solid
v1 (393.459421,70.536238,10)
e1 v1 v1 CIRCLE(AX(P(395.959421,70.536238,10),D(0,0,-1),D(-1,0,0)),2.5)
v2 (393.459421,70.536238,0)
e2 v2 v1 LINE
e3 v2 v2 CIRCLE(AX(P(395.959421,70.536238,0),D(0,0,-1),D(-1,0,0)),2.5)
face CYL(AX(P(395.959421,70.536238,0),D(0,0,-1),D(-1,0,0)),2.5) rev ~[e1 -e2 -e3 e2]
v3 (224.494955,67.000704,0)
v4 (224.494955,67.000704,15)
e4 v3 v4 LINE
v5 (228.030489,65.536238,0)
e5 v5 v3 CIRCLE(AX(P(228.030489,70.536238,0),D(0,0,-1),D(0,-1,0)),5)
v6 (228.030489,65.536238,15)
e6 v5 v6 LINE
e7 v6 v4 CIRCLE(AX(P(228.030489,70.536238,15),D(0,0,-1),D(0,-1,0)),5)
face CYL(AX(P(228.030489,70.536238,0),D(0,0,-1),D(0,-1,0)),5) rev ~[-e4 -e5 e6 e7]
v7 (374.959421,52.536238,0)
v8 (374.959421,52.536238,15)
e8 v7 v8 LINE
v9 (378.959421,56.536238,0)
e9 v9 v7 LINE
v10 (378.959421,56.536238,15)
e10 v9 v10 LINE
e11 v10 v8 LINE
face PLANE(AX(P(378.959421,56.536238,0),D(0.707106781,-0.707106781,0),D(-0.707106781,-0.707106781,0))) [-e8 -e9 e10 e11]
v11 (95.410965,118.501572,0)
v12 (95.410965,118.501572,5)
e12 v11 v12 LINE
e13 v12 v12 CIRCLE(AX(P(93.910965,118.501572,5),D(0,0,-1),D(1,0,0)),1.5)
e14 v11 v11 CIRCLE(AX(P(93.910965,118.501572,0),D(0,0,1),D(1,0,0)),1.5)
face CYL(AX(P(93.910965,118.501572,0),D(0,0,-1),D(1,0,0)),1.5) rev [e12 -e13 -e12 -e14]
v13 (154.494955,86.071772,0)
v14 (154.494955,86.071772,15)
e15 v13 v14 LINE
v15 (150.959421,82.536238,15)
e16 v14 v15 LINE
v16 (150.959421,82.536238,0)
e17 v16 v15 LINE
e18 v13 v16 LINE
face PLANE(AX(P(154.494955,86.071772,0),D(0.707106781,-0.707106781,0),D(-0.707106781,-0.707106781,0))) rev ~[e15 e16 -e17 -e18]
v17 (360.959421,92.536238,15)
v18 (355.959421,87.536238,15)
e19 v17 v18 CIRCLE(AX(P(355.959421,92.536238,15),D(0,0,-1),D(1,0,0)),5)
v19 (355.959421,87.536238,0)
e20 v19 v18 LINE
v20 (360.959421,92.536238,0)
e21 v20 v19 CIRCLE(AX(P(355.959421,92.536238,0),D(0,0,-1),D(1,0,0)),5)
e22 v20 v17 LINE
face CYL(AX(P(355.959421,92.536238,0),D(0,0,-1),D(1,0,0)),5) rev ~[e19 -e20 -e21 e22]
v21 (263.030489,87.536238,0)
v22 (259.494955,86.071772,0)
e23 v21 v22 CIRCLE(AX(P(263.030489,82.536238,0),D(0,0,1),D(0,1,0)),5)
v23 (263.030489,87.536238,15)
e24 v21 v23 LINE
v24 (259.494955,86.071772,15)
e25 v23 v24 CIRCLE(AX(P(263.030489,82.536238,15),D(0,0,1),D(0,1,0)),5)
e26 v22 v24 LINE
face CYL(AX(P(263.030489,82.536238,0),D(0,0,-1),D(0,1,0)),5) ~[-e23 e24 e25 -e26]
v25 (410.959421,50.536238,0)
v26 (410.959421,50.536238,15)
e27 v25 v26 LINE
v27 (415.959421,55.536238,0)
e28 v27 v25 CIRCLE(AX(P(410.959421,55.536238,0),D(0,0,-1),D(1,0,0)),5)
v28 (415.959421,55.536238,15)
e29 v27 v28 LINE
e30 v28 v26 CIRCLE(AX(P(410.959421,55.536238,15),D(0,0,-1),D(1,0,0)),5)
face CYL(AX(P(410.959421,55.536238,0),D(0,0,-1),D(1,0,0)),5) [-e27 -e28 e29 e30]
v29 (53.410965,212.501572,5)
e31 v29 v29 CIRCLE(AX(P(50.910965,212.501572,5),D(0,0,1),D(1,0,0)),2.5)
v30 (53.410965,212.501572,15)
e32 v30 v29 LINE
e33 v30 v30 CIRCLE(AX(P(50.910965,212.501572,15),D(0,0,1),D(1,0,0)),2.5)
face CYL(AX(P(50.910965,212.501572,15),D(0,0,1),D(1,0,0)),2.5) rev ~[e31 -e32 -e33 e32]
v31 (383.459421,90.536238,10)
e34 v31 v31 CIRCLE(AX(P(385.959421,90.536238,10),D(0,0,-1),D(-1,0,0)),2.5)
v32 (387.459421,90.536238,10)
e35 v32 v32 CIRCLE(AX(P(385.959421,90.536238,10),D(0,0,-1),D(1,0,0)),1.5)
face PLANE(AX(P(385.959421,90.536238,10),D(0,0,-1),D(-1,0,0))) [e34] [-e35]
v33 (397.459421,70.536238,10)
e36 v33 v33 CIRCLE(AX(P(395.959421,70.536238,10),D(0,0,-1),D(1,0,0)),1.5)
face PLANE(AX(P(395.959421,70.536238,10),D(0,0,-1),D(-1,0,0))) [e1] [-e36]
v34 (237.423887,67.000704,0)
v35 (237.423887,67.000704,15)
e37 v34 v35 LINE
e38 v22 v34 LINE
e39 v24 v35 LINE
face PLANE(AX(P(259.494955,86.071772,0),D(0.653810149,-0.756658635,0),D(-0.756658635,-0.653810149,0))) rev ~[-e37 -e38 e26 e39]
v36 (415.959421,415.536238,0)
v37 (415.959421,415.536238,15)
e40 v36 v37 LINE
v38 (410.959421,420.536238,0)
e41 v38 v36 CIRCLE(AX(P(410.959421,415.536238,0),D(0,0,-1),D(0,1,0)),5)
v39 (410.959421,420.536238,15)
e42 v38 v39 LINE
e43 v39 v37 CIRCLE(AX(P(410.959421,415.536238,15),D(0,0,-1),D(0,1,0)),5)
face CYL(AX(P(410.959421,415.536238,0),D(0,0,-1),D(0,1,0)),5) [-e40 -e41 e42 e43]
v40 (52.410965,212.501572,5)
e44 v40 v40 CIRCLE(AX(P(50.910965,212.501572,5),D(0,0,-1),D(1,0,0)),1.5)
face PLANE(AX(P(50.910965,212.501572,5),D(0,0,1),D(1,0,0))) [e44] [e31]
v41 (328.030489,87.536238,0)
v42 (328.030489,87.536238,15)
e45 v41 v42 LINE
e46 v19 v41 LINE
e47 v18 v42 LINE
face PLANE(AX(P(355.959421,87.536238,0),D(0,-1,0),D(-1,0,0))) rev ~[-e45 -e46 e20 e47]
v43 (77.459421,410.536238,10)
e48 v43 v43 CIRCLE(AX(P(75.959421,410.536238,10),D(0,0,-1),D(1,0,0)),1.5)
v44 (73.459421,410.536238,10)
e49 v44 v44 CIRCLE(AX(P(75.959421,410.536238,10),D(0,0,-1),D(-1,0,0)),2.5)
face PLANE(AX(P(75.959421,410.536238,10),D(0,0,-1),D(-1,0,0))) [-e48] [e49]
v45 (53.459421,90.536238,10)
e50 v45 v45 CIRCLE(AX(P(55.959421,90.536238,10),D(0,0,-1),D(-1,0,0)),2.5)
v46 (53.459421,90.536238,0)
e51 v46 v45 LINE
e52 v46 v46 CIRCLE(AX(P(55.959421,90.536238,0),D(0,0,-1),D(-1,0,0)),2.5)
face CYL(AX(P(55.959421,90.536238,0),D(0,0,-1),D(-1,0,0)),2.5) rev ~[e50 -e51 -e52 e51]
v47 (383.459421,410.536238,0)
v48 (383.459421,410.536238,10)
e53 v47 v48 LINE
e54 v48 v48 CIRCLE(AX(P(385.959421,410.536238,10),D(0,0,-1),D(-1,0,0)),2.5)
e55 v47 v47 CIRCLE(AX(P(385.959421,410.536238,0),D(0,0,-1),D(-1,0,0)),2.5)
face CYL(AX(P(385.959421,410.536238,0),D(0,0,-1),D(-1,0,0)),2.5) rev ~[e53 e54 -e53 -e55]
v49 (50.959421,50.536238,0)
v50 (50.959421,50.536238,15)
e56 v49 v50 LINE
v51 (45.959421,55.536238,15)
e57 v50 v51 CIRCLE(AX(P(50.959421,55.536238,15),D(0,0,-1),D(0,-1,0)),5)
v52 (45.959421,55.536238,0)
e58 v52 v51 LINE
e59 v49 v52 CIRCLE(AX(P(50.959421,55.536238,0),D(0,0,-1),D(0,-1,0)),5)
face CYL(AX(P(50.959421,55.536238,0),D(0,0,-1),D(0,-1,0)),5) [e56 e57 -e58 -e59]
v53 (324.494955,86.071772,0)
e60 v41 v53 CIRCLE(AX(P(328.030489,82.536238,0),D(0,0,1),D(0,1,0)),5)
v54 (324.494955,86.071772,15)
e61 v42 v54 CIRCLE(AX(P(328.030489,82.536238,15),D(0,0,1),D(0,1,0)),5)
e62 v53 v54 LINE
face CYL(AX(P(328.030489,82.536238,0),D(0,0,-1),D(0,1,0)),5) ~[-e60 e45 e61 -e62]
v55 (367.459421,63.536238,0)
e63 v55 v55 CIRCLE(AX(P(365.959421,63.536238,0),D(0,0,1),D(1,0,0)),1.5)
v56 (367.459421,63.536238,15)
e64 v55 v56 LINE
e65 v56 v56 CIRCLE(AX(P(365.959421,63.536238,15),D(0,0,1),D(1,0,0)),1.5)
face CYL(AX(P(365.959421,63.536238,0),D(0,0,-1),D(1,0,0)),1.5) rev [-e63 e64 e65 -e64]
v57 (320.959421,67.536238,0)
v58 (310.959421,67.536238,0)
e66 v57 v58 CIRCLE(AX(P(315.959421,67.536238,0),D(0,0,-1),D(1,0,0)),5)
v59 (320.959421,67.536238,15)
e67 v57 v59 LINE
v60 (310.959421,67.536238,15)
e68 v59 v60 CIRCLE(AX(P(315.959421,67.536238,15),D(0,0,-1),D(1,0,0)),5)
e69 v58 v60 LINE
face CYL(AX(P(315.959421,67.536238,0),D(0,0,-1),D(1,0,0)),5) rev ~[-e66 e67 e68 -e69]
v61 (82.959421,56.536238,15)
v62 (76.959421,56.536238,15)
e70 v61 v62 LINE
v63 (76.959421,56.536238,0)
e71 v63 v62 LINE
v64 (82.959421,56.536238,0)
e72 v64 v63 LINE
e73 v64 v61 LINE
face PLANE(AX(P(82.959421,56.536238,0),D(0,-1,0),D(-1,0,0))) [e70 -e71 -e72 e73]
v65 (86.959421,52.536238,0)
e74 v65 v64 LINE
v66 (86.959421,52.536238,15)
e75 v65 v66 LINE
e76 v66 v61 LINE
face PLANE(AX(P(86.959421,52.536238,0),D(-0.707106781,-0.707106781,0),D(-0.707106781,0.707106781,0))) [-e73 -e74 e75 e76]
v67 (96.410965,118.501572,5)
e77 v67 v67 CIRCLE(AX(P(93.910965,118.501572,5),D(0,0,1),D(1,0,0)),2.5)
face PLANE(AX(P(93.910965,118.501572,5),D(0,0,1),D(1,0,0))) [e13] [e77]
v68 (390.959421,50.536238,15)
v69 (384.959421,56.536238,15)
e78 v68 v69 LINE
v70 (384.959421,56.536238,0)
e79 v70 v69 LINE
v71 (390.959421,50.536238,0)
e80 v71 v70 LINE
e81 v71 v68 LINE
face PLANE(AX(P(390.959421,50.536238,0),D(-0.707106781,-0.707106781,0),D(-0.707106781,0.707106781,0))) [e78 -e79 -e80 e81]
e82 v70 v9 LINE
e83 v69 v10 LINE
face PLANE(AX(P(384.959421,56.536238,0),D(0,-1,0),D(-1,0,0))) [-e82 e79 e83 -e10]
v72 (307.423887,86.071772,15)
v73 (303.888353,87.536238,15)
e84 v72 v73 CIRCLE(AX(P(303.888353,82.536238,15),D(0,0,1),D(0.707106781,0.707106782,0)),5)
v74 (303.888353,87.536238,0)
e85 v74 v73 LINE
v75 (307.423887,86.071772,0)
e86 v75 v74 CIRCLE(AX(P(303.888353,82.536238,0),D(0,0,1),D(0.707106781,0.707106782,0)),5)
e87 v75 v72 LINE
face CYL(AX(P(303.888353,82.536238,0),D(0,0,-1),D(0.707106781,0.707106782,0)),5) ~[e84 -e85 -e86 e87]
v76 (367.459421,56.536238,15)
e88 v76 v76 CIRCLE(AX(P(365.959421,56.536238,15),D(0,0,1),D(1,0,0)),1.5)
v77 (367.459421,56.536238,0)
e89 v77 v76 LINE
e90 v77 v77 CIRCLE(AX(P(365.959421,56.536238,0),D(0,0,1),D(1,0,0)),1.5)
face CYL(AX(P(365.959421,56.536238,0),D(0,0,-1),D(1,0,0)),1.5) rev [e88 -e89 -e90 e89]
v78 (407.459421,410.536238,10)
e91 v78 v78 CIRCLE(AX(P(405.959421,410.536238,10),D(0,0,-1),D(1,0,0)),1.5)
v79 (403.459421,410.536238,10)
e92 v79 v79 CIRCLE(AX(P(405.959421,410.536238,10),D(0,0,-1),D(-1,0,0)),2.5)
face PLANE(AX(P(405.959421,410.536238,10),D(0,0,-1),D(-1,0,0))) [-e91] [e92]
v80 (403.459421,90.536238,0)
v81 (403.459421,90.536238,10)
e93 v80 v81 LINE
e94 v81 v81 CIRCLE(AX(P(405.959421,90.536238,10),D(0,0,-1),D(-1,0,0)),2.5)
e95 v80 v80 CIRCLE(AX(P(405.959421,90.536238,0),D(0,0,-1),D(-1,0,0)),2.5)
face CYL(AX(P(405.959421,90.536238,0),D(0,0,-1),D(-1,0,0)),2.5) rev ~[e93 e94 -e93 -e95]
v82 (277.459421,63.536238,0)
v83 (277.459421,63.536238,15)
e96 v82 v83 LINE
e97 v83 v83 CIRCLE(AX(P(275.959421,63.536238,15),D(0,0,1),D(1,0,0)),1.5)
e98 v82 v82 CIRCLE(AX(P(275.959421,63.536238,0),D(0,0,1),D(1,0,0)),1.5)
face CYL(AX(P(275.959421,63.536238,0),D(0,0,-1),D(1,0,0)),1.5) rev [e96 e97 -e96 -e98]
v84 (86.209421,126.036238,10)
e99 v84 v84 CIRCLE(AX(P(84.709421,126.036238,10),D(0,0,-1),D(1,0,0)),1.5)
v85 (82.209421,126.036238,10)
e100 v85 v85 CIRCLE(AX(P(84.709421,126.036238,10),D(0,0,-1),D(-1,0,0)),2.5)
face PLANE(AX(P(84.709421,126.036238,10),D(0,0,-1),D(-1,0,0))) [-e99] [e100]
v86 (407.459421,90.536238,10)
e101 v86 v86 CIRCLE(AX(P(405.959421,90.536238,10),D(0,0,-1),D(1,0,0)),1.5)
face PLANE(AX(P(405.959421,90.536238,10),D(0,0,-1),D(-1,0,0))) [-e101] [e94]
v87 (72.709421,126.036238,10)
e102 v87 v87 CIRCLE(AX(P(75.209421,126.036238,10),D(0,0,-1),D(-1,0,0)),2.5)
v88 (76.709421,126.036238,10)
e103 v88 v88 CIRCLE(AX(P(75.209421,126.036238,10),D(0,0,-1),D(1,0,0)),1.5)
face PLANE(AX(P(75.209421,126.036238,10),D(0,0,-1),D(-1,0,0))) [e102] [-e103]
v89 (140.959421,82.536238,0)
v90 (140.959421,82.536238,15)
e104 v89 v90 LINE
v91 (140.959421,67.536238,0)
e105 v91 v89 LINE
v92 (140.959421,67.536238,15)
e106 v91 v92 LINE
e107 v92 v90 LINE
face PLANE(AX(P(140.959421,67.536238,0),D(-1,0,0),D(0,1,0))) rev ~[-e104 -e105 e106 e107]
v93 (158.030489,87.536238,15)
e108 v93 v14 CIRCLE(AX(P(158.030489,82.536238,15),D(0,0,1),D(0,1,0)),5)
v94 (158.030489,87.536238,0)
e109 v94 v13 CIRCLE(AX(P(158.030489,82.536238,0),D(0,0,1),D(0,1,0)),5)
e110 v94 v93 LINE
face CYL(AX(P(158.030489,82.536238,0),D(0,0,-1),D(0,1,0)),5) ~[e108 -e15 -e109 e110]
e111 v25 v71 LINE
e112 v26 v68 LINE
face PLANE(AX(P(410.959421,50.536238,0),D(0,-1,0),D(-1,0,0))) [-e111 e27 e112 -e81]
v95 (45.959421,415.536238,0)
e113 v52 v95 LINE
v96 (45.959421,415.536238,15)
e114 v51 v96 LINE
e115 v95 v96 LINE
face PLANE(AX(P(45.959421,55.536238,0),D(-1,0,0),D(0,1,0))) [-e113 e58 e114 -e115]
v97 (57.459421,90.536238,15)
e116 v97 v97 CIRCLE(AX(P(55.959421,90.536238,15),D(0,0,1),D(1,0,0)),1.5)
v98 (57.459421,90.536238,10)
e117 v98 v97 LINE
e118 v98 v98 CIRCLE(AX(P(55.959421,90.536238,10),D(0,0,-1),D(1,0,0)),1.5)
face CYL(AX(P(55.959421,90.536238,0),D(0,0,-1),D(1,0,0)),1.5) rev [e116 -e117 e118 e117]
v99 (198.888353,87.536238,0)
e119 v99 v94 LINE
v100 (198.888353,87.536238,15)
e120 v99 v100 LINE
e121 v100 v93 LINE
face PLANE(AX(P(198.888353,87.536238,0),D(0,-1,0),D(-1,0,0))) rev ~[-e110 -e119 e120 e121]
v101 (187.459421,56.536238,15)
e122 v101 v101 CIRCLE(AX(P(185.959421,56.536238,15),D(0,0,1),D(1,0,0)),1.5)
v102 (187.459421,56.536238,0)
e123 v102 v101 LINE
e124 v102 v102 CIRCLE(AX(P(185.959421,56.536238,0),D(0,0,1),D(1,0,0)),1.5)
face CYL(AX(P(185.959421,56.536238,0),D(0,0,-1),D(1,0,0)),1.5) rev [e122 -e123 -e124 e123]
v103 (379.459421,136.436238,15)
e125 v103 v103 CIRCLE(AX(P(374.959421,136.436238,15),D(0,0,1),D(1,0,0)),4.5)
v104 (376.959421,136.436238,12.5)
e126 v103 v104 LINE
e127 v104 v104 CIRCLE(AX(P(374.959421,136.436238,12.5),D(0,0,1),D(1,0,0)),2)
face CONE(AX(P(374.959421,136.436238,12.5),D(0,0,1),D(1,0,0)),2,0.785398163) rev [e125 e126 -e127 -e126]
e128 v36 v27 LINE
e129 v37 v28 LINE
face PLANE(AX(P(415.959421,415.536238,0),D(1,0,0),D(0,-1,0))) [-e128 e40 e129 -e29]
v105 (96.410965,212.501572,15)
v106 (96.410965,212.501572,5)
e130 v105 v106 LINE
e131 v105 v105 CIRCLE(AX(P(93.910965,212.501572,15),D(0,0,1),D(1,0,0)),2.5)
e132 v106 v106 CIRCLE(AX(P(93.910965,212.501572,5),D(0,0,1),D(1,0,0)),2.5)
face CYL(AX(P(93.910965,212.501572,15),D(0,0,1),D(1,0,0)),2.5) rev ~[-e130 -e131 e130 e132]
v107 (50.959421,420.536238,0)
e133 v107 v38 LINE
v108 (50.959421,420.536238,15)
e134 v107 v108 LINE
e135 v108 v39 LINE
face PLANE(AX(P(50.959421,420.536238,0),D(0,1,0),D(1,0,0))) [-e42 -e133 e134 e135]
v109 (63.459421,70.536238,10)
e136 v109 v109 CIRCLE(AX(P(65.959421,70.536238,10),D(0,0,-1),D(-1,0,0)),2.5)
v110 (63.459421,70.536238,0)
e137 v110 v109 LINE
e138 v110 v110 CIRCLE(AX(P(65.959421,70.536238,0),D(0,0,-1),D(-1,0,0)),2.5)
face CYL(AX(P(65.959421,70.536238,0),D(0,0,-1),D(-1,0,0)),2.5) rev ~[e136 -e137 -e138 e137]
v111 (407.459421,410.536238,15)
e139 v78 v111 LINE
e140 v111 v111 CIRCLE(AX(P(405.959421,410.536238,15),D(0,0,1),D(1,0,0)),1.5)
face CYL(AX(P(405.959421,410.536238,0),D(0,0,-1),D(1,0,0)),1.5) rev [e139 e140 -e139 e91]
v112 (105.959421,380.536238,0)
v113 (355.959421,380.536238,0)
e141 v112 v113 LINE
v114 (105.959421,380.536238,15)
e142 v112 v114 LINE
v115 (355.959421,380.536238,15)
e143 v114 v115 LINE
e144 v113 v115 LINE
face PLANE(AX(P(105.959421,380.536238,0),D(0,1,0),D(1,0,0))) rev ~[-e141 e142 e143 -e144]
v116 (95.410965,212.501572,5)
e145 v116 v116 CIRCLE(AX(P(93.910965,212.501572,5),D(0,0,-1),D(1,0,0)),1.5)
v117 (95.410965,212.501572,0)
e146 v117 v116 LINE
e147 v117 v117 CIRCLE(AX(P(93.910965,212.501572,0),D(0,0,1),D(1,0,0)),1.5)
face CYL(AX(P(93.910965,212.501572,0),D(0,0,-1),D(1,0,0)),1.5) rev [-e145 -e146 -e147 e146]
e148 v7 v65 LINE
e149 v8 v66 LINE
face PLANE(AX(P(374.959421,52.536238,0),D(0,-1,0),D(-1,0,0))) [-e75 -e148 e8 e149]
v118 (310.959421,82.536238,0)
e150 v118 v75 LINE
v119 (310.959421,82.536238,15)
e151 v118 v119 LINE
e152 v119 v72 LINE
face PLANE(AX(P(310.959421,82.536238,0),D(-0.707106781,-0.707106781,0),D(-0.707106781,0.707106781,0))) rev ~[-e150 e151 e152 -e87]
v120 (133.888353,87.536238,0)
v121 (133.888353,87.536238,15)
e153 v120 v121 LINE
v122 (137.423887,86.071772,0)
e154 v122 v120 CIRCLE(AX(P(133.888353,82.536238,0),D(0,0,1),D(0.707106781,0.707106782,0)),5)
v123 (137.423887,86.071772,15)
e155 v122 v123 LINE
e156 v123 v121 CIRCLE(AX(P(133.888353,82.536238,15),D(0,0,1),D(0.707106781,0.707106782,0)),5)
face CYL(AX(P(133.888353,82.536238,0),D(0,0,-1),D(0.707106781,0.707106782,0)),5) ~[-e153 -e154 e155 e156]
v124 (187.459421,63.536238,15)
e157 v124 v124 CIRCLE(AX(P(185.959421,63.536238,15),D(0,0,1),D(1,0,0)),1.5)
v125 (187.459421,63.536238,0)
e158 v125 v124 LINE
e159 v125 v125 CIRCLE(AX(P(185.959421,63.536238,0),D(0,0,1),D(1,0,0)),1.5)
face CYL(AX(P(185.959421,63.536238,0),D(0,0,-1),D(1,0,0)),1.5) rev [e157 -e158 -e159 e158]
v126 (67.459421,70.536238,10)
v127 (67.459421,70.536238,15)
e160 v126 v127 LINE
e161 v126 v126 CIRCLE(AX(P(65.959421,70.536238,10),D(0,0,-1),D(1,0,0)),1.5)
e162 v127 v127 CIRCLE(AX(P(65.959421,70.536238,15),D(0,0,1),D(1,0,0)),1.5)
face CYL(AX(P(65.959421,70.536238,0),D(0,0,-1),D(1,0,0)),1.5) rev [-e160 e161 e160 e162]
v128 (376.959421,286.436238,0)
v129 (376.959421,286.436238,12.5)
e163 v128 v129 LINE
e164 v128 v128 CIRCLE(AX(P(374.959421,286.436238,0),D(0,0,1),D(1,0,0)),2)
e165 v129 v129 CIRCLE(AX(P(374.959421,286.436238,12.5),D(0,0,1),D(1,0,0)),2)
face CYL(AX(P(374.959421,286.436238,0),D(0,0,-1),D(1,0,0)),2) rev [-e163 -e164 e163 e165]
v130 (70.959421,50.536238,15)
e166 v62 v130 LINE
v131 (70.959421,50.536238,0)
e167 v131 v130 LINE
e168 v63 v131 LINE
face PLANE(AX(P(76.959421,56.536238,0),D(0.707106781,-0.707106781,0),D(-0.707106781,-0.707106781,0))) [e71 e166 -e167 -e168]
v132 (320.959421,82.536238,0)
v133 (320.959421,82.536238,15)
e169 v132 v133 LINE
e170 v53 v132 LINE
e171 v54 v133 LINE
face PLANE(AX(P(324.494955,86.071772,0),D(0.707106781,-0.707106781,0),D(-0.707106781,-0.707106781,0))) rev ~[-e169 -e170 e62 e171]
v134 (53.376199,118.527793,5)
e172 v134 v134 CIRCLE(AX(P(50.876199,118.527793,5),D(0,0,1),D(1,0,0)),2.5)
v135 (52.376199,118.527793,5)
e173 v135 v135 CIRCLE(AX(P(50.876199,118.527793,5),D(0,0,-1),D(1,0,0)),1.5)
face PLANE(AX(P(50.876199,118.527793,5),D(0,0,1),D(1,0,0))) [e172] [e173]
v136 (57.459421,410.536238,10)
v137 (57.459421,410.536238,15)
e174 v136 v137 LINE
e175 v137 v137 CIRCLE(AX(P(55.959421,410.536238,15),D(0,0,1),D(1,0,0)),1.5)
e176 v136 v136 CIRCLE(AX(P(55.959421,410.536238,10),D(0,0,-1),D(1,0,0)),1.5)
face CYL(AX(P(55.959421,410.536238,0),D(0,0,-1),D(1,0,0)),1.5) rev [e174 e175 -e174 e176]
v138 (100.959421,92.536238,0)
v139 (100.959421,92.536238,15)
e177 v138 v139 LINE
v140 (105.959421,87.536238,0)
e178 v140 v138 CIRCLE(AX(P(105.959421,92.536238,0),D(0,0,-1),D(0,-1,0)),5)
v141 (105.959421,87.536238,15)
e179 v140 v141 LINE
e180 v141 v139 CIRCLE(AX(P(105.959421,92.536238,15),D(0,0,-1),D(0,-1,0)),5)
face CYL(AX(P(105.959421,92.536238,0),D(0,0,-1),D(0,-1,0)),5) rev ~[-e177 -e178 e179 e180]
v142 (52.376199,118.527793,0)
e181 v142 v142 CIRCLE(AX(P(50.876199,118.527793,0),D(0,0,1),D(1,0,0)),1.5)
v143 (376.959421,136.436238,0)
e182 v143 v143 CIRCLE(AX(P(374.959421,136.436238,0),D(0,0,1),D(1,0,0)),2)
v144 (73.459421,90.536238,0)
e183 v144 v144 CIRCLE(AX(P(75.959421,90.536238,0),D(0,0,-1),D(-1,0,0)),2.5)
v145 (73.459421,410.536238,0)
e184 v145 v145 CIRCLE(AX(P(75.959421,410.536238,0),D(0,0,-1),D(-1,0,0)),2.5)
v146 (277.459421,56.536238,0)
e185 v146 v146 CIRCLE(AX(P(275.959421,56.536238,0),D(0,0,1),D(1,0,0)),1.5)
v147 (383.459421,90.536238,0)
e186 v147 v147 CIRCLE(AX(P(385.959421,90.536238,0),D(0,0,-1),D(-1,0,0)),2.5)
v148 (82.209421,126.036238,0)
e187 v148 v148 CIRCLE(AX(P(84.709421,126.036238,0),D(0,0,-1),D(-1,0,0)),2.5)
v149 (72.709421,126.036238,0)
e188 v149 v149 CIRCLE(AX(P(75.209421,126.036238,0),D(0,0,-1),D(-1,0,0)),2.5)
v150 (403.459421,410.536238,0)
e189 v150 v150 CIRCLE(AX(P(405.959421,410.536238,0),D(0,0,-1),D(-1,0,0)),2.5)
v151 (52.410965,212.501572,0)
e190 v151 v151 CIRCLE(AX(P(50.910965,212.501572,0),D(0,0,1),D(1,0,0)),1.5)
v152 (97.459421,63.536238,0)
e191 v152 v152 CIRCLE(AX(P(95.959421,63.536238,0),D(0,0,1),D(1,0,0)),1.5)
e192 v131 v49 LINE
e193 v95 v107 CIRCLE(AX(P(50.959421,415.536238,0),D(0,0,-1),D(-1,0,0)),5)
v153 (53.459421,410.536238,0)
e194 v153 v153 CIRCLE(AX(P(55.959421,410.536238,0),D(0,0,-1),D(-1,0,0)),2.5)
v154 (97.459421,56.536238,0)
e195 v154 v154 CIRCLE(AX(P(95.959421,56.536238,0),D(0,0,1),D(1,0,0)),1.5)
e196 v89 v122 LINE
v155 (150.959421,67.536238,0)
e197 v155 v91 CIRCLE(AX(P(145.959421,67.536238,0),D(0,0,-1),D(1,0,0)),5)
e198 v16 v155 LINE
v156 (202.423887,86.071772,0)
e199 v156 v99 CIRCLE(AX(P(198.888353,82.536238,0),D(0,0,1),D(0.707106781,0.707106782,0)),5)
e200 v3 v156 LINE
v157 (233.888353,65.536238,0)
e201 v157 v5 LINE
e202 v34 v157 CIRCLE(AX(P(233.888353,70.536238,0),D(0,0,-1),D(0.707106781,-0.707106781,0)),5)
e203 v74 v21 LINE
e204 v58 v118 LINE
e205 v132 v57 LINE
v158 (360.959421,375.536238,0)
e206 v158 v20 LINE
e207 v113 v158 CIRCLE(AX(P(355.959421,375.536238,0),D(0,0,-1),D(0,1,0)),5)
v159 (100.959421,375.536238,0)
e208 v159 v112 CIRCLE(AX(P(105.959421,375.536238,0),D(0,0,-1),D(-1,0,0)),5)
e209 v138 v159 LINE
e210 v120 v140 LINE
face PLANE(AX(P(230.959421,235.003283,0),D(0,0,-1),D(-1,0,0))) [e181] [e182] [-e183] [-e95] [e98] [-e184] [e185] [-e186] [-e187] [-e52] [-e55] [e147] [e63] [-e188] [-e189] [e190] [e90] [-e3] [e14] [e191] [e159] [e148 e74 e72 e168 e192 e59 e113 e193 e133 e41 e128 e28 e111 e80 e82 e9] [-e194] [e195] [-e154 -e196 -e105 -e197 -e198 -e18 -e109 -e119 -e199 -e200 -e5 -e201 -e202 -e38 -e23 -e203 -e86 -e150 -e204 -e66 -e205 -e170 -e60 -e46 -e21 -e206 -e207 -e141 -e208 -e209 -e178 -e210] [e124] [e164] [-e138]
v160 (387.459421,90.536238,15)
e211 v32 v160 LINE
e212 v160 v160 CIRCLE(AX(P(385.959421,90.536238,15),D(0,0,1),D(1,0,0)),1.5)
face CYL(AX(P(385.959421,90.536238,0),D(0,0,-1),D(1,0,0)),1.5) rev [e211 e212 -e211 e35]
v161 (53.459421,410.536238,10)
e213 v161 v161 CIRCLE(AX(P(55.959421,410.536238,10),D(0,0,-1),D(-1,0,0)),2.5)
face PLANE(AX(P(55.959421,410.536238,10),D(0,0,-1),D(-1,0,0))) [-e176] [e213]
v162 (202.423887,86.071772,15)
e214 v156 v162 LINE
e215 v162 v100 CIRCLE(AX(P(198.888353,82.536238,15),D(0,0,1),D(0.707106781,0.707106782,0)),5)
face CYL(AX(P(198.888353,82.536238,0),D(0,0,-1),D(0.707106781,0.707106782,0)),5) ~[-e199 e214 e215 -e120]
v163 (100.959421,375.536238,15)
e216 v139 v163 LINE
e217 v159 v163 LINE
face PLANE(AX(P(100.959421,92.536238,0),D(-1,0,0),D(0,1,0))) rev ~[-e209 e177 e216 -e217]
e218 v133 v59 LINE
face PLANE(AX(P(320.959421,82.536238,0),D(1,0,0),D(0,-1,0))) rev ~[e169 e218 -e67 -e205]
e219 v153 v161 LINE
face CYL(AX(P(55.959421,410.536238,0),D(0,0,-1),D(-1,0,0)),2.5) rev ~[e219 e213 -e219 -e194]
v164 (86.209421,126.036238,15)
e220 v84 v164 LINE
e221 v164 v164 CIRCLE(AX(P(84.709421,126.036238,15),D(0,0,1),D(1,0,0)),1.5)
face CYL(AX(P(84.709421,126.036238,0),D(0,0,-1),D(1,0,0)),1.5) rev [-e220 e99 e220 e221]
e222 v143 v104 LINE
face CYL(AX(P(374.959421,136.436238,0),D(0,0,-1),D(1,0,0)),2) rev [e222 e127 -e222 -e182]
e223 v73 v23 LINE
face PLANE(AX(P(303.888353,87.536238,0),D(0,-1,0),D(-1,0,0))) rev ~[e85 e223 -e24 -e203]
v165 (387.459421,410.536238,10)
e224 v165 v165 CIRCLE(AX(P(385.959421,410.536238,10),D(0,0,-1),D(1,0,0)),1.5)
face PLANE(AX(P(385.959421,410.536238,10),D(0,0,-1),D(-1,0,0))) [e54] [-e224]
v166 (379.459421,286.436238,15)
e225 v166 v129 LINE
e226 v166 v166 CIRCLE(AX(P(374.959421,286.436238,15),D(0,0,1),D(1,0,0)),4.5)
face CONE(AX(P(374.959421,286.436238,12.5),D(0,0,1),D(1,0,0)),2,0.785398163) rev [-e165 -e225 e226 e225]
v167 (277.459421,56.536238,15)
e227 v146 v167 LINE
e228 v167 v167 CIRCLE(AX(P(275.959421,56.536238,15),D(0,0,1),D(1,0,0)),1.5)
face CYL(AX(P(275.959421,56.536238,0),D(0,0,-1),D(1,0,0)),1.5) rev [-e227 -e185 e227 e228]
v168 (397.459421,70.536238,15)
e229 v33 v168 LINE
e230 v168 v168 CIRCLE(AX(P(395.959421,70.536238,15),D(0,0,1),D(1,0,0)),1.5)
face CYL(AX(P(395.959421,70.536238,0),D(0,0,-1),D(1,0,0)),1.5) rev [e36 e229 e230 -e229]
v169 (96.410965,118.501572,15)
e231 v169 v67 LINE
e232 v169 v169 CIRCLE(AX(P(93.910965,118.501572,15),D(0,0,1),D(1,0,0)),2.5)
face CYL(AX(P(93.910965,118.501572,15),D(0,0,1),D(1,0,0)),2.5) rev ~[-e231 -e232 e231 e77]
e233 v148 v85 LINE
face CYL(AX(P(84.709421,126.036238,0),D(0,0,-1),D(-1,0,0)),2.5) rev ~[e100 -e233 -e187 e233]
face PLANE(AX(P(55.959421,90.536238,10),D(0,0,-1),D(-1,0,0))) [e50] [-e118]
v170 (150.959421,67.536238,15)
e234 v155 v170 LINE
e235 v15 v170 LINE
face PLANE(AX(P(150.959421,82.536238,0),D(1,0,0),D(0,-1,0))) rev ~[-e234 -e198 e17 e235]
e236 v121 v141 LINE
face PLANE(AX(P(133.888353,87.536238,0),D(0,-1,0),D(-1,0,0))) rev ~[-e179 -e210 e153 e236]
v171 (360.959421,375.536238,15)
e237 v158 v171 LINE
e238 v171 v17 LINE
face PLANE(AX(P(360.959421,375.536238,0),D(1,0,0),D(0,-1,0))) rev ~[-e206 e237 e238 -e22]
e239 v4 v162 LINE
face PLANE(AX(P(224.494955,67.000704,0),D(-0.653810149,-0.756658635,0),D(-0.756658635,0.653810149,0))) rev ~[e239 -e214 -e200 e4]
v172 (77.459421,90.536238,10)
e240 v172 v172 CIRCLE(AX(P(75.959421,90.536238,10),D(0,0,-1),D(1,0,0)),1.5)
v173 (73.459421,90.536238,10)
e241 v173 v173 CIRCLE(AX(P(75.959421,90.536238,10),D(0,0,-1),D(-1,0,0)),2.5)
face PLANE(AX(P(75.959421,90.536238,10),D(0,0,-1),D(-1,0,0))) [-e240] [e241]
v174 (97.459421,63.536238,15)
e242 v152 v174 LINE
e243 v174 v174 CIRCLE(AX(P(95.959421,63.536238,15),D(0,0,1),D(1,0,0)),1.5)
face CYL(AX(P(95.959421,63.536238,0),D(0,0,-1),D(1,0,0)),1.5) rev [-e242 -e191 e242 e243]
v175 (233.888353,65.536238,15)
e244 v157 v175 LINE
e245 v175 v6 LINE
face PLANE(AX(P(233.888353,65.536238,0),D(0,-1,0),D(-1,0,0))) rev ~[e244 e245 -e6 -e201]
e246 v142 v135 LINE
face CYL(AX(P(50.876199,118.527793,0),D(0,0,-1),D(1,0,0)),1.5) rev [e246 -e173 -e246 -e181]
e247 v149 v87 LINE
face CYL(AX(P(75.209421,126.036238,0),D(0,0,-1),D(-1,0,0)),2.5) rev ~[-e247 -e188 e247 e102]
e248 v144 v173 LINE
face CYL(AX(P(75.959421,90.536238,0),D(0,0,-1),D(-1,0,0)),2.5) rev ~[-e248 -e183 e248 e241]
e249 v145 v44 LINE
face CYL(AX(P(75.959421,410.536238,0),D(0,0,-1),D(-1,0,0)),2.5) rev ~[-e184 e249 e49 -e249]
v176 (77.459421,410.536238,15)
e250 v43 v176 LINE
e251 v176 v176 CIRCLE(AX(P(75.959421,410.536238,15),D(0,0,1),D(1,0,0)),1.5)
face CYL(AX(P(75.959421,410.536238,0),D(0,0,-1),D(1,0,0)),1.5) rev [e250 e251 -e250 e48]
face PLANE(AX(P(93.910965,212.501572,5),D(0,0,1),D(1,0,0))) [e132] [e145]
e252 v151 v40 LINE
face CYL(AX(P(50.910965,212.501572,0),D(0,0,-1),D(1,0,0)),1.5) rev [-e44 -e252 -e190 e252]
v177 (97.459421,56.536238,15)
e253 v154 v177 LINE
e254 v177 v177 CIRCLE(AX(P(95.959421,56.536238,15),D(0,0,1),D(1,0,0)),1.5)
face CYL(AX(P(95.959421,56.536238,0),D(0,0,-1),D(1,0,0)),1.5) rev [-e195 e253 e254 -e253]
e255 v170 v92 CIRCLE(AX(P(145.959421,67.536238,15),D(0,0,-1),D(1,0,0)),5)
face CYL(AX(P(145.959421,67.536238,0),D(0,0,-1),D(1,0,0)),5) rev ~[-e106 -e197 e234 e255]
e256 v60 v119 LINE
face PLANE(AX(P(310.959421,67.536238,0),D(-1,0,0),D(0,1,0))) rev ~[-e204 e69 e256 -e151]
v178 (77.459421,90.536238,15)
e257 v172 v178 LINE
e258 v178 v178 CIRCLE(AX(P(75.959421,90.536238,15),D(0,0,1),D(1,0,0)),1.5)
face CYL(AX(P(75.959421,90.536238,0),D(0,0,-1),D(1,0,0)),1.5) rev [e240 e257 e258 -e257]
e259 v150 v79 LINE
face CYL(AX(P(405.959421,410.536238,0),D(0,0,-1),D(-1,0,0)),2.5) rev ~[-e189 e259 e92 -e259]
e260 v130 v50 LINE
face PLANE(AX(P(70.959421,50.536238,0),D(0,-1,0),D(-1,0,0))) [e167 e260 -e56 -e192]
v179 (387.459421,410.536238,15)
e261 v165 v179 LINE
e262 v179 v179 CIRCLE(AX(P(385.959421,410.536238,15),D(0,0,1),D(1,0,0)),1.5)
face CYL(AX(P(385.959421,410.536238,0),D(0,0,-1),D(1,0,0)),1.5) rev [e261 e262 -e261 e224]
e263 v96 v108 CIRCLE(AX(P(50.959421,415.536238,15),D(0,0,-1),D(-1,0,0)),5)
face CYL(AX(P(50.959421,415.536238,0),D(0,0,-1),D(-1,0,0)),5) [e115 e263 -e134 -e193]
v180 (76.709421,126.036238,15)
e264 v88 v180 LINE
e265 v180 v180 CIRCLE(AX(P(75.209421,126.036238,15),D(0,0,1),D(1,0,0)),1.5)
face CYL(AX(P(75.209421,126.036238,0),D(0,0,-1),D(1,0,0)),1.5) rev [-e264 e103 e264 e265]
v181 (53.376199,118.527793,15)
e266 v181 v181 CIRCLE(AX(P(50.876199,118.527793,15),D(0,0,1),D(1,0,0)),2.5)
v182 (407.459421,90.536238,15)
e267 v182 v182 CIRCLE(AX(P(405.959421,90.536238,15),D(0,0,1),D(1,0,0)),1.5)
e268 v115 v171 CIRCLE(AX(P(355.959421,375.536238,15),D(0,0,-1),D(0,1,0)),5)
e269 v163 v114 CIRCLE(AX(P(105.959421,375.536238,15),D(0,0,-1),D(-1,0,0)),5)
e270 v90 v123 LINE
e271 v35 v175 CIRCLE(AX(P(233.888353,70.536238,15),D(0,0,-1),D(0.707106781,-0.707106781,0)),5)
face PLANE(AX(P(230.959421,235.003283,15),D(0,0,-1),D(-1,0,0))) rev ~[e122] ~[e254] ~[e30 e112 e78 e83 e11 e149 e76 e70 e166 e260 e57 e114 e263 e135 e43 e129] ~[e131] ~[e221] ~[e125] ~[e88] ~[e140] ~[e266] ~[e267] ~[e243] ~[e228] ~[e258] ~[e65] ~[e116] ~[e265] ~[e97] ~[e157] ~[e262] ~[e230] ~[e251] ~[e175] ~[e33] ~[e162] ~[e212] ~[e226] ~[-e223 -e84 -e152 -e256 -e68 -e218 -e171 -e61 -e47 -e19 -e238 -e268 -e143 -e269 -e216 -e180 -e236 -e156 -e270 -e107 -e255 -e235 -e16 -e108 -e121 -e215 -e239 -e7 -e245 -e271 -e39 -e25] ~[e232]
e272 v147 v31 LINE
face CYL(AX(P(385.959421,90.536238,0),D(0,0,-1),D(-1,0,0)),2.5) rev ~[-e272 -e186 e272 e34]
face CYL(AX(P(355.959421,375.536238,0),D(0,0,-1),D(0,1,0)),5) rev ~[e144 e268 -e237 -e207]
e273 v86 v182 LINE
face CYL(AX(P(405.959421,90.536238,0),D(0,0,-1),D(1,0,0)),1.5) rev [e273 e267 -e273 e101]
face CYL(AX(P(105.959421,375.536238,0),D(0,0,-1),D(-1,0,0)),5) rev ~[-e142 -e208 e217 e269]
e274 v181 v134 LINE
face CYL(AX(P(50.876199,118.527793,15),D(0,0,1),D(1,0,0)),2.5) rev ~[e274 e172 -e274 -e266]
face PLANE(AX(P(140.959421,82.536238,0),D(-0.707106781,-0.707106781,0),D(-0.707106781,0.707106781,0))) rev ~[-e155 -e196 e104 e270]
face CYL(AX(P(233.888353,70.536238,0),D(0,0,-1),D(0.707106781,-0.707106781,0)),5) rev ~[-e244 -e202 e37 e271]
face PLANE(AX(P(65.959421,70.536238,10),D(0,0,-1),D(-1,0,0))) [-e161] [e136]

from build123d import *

# Parameters (mm, degrees)
MODEL_R                  = 1.5
MODEL_R_2                = 2
RESSALTO_EXTRUS_O1_DEPTH = 15
ESBO_O1_R                = 2.5
CORTE_EXTRUS_O1_DEPTH    = 10
ESBO_O2_R                = 2.5
CORTE_EXTRUS_O2_DEPTH    = 10
CHANFRO1_SIZE            = 2.5


with BuildPart() as part:
    # Model → Ressalto-extrusão1 (new body)
    with BuildSketch(Plane.XY):
        with BuildLine():
            Line((45.959420932, 55.536238099), (45.959420932, 415.536238099))
            ThreePointArc((45.959420932, 415.536238099), (47.423887026, 419.071772005), (50.959420932, 420.536238099))
            Line((50.959420932, 420.536238099), (410.959420932, 420.536238099))
            ThreePointArc((410.959420932, 420.536238099), (414.494954838, 419.071772005), (415.959420932, 415.536238099))
            Line((415.959420932, 415.536238099), (415.959420932, 55.536238099))
            ThreePointArc((415.959420932, 55.536238099), (414.494954838, 52.000704193), (410.959420932, 50.536238099))
            Line((410.959420932, 50.536238099), (390.959420932, 50.536238099))
            Line((390.959420932, 50.536238099), (388.959420932, 52.536238099))
            Line((388.959420932, 52.536238099), (384.959420932, 56.536238099))
            Line((384.959420932, 56.536238099), (378.959420932, 56.536238099))
            Line((378.959420932, 56.536238099), (374.959420932, 52.536238099))
            Line((374.959420932, 52.536238099), (86.959420932, 52.536238099))
            Line((86.959420932, 52.536238099), (82.959420932, 56.536238099))
            Line((82.959420932, 56.536238099), (76.959420932, 56.536238099))
            Line((76.959420932, 56.536238099), (72.959420932, 52.536238099))
            Line((72.959420932, 52.536238099), (70.959420932, 50.536238099))
            Line((70.959420932, 50.536238099), (50.959420932, 50.536238099))
            ThreePointArc((50.959420932, 50.536238099), (47.423887026, 52.000704193), (45.959420932, 55.536238099))
        make_face()
        with Locations((95.959420932, 56.536238099)):
            Circle(MODEL_R, mode=Mode.SUBTRACT)
        with Locations((365.959420932, 56.536238099)):
            Circle(MODEL_R, mode=Mode.SUBTRACT)
        with Locations((275.959420932, 56.536238099)):
            Circle(MODEL_R, mode=Mode.SUBTRACT)
        with Locations((185.959420932, 56.536238099)):
            Circle(MODEL_R, mode=Mode.SUBTRACT)
        with Locations((55.959420932, 90.536238099)):
            Circle(MODEL_R, mode=Mode.SUBTRACT)
        with Locations((75.959420932, 90.536238099)):
            Circle(MODEL_R, mode=Mode.SUBTRACT)
        with Locations((65.959420932, 70.536238099)):
            Circle(MODEL_R, mode=Mode.SUBTRACT)
        with Locations((395.959420932, 70.536238099)):
            Circle(MODEL_R, mode=Mode.SUBTRACT)
        with Locations((385.959420932, 90.536238099)):
            Circle(MODEL_R, mode=Mode.SUBTRACT)
        with Locations((405.959420932, 90.536238099)):
            Circle(MODEL_R, mode=Mode.SUBTRACT)
        with Locations((405.959420932, 410.536238099)):
            Circle(MODEL_R, mode=Mode.SUBTRACT)
        with Locations((385.959420932, 410.536238099)):
            Circle(MODEL_R, mode=Mode.SUBTRACT)
        with Locations((55.959420932, 410.536238099)):
            Circle(MODEL_R, mode=Mode.SUBTRACT)
        with Locations((75.959420932, 410.536238099)):
            Circle(MODEL_R, mode=Mode.SUBTRACT)
        with Locations((93.910965405, 118.501571518)):
            Circle(MODEL_R, mode=Mode.SUBTRACT)
        with Locations((50.910965405, 212.501571518)):
            Circle(MODEL_R, mode=Mode.SUBTRACT)
        with Locations((93.910965405, 212.501571518)):
            Circle(MODEL_R, mode=Mode.SUBTRACT)
        with Locations((50.876198806, 118.527793034)):
            Circle(MODEL_R, mode=Mode.SUBTRACT)
        with Locations((95.959420932, 63.536238099)):
            Circle(MODEL_R, mode=Mode.SUBTRACT)
        with Locations((365.959420932, 63.536238099)):
            Circle(MODEL_R, mode=Mode.SUBTRACT)
        with Locations((275.959420932, 63.536238099)):
            Circle(MODEL_R, mode=Mode.SUBTRACT)
        with Locations((185.959420932, 63.536238099)):
            Circle(MODEL_R, mode=Mode.SUBTRACT)
        with Locations((84.709420932, 126.036238099)):
            Circle(MODEL_R, mode=Mode.SUBTRACT)
        with Locations((75.209420932, 126.036238099)):
            Circle(MODEL_R, mode=Mode.SUBTRACT)
        with Locations((374.959420932, 136.436238099)):
            Circle(MODEL_R_2, mode=Mode.SUBTRACT)
        with Locations((374.959420932, 286.436238099)):
            Circle(MODEL_R_2, mode=Mode.SUBTRACT)
        with BuildLine():
            Line((140.959420932, 67.536238099), (140.959420932, 82.536238099))
            Line((140.959420932, 82.536238099), (137.423887026, 86.071772005))
            ThreePointArc((137.423887026, 86.071772005), (135.801770282, 87.155635761), (133.88835312, 87.536238099))
            Line((133.88835312, 87.536238099), (105.959420932, 87.536238099))
            ThreePointArc((105.959420932, 87.536238099), (102.423887026, 89.000704193), (100.959420932, 92.536238099))
            Line((100.959420932, 92.536238099), (100.959420932, 375.536238099))
            ThreePointArc((100.959420932, 375.536238099), (102.423887026, 379.071772005), (105.959420932, 380.536238099))
            Line((105.959420932, 380.536238099), (355.959420932, 380.536238099))
            ThreePointArc((355.959420932, 380.536238099), (359.494954838, 379.071772005), (360.959420932, 375.536238099))
            Line((360.959420932, 375.536238099), (360.959420932, 92.536238099))
            ThreePointArc((360.959420932, 92.536238099), (359.494954838, 89.000704193), (355.959420932, 87.536238099))
            Line((355.959420932, 87.536238099), (328.030488744, 87.536238099))
            ThreePointArc((328.030488744, 87.536238099), (326.117071582, 87.155635761), (324.494954838, 86.071772005))
            Line((324.494954838, 86.071772005), (320.959420932, 82.536238099))
            Line((320.959420932, 82.536238099), (320.959420932, 67.536238099))
            ThreePointArc((320.959420932, 67.536238099), (315.959420932, 62.536238099), (310.959420932, 67.536238099))
            Line((310.959420932, 67.536238099), (310.959420932, 82.536238099))
            Line((310.959420932, 82.536238099), (307.423887026, 86.071772005))
            ThreePointArc((307.423887026, 86.071772005), (305.801770282, 87.155635761), (303.88835312, 87.536238099))
            Line((303.88835312, 87.536238099), (263.030488744, 87.536238099))
            ThreePointArc((263.030488744, 87.536238099), (261.117071582, 87.155635761), (259.494954838, 86.071772005))
            Line((259.494954838, 86.071772005), (237.423887026, 67.000704193))
            ThreePointArc((237.423887026, 67.000704193), (235.801770282, 65.916840436), (233.88835312, 65.536238099))
            Line((233.88835312, 65.536238099), (228.030488744, 65.536238099))
            ThreePointArc((228.030488744, 65.536238099), (226.117071582, 65.916840436), (224.494954838, 67.000704193))
            Line((224.494954838, 67.000704193), (202.423887026, 86.071772005))
            ThreePointArc((202.423887026, 86.071772005), (200.801770282, 87.155635761), (198.88835312, 87.536238099))
            Line((198.88835312, 87.536238099), (158.030488744, 87.536238099))
            ThreePointArc((158.030488744, 87.536238099), (156.117071582, 87.155635761), (154.494954838, 86.071772005))
            Line((154.494954838, 86.071772005), (150.959420932, 82.536238099))
            Line((150.959420932, 82.536238099), (150.959420932, 67.536238099))
            ThreePointArc((150.959420932, 67.536238099), (145.959420932, 62.536238099), (140.959420932, 67.536238099))
        make_face(mode=Mode.SUBTRACT)
    extrude(amount=RESSALTO_EXTRUS_O1_DEPTH)

    # Esboço1 → Corte-extrusão1 (cut)
    with BuildSketch(Plane(origin=(0, 0, 0), x_dir=(-1, 0, 0), z_dir=(0, 0, -1))):
        with Locations((-385.959420932, 90.536238099)):
            Circle(ESBO_O1_R)
        with Locations((-405.959420932, 90.536238099)):
            Circle(ESBO_O1_R)
        with Locations((-395.959420932, 70.536238099)):
            Circle(ESBO_O1_R)
        with Locations((-75.959420932, 90.536238099)):
            Circle(ESBO_O1_R)
        with Locations((-55.959420932, 90.536238099)):
            Circle(ESBO_O1_R)
        with Locations((-65.959420932, 70.536238099)):
            Circle(ESBO_O1_R)
        with Locations((-405.959420932, 410.536238099)):
            Circle(ESBO_O1_R)
        with Locations((-385.959420932, 410.536238099)):
            Circle(ESBO_O1_R)
        with Locations((-75.959420932, 410.536238099)):
            Circle(ESBO_O1_R)
        with Locations((-55.959420932, 410.536238099)):
            Circle(ESBO_O1_R)
        with Locations((-84.709420932, 126.036238099)):
            Circle(ESBO_O1_R)
        with Locations((-75.209420932, 126.036238099)):
            Circle(ESBO_O1_R)
    extrude(amount=-CORTE_EXTRUS_O1_DEPTH, mode=Mode.SUBTRACT)

    # Esboço2 → Corte-extrusão2 (cut)
    with BuildSketch(Plane.XY.offset(15)):
        with Locations((50.910965405, 212.501571518)):
            Circle(ESBO_O2_R)
        with Locations((93.910965405, 212.501571518)):
            Circle(ESBO_O2_R)
        with Locations((93.910965405, 118.501571518)):
            Circle(ESBO_O2_R)
        with Locations((50.876198806, 118.527793034)):
            Circle(ESBO_O2_R)
    extrude(amount=-CORTE_EXTRUS_O2_DEPTH, mode=Mode.SUBTRACT)

    # Chanfro1
    chanfro1_edges = [part.edges().sort_by_distance(p)[0] for p in [
        (372.959420932, 136.436238099, 15),
        (372.959420932, 286.436238099, 15),
    ]]
    chamfer(chanfro1_edges, length=CHANFRO1_SIZE)


solid = part.part
